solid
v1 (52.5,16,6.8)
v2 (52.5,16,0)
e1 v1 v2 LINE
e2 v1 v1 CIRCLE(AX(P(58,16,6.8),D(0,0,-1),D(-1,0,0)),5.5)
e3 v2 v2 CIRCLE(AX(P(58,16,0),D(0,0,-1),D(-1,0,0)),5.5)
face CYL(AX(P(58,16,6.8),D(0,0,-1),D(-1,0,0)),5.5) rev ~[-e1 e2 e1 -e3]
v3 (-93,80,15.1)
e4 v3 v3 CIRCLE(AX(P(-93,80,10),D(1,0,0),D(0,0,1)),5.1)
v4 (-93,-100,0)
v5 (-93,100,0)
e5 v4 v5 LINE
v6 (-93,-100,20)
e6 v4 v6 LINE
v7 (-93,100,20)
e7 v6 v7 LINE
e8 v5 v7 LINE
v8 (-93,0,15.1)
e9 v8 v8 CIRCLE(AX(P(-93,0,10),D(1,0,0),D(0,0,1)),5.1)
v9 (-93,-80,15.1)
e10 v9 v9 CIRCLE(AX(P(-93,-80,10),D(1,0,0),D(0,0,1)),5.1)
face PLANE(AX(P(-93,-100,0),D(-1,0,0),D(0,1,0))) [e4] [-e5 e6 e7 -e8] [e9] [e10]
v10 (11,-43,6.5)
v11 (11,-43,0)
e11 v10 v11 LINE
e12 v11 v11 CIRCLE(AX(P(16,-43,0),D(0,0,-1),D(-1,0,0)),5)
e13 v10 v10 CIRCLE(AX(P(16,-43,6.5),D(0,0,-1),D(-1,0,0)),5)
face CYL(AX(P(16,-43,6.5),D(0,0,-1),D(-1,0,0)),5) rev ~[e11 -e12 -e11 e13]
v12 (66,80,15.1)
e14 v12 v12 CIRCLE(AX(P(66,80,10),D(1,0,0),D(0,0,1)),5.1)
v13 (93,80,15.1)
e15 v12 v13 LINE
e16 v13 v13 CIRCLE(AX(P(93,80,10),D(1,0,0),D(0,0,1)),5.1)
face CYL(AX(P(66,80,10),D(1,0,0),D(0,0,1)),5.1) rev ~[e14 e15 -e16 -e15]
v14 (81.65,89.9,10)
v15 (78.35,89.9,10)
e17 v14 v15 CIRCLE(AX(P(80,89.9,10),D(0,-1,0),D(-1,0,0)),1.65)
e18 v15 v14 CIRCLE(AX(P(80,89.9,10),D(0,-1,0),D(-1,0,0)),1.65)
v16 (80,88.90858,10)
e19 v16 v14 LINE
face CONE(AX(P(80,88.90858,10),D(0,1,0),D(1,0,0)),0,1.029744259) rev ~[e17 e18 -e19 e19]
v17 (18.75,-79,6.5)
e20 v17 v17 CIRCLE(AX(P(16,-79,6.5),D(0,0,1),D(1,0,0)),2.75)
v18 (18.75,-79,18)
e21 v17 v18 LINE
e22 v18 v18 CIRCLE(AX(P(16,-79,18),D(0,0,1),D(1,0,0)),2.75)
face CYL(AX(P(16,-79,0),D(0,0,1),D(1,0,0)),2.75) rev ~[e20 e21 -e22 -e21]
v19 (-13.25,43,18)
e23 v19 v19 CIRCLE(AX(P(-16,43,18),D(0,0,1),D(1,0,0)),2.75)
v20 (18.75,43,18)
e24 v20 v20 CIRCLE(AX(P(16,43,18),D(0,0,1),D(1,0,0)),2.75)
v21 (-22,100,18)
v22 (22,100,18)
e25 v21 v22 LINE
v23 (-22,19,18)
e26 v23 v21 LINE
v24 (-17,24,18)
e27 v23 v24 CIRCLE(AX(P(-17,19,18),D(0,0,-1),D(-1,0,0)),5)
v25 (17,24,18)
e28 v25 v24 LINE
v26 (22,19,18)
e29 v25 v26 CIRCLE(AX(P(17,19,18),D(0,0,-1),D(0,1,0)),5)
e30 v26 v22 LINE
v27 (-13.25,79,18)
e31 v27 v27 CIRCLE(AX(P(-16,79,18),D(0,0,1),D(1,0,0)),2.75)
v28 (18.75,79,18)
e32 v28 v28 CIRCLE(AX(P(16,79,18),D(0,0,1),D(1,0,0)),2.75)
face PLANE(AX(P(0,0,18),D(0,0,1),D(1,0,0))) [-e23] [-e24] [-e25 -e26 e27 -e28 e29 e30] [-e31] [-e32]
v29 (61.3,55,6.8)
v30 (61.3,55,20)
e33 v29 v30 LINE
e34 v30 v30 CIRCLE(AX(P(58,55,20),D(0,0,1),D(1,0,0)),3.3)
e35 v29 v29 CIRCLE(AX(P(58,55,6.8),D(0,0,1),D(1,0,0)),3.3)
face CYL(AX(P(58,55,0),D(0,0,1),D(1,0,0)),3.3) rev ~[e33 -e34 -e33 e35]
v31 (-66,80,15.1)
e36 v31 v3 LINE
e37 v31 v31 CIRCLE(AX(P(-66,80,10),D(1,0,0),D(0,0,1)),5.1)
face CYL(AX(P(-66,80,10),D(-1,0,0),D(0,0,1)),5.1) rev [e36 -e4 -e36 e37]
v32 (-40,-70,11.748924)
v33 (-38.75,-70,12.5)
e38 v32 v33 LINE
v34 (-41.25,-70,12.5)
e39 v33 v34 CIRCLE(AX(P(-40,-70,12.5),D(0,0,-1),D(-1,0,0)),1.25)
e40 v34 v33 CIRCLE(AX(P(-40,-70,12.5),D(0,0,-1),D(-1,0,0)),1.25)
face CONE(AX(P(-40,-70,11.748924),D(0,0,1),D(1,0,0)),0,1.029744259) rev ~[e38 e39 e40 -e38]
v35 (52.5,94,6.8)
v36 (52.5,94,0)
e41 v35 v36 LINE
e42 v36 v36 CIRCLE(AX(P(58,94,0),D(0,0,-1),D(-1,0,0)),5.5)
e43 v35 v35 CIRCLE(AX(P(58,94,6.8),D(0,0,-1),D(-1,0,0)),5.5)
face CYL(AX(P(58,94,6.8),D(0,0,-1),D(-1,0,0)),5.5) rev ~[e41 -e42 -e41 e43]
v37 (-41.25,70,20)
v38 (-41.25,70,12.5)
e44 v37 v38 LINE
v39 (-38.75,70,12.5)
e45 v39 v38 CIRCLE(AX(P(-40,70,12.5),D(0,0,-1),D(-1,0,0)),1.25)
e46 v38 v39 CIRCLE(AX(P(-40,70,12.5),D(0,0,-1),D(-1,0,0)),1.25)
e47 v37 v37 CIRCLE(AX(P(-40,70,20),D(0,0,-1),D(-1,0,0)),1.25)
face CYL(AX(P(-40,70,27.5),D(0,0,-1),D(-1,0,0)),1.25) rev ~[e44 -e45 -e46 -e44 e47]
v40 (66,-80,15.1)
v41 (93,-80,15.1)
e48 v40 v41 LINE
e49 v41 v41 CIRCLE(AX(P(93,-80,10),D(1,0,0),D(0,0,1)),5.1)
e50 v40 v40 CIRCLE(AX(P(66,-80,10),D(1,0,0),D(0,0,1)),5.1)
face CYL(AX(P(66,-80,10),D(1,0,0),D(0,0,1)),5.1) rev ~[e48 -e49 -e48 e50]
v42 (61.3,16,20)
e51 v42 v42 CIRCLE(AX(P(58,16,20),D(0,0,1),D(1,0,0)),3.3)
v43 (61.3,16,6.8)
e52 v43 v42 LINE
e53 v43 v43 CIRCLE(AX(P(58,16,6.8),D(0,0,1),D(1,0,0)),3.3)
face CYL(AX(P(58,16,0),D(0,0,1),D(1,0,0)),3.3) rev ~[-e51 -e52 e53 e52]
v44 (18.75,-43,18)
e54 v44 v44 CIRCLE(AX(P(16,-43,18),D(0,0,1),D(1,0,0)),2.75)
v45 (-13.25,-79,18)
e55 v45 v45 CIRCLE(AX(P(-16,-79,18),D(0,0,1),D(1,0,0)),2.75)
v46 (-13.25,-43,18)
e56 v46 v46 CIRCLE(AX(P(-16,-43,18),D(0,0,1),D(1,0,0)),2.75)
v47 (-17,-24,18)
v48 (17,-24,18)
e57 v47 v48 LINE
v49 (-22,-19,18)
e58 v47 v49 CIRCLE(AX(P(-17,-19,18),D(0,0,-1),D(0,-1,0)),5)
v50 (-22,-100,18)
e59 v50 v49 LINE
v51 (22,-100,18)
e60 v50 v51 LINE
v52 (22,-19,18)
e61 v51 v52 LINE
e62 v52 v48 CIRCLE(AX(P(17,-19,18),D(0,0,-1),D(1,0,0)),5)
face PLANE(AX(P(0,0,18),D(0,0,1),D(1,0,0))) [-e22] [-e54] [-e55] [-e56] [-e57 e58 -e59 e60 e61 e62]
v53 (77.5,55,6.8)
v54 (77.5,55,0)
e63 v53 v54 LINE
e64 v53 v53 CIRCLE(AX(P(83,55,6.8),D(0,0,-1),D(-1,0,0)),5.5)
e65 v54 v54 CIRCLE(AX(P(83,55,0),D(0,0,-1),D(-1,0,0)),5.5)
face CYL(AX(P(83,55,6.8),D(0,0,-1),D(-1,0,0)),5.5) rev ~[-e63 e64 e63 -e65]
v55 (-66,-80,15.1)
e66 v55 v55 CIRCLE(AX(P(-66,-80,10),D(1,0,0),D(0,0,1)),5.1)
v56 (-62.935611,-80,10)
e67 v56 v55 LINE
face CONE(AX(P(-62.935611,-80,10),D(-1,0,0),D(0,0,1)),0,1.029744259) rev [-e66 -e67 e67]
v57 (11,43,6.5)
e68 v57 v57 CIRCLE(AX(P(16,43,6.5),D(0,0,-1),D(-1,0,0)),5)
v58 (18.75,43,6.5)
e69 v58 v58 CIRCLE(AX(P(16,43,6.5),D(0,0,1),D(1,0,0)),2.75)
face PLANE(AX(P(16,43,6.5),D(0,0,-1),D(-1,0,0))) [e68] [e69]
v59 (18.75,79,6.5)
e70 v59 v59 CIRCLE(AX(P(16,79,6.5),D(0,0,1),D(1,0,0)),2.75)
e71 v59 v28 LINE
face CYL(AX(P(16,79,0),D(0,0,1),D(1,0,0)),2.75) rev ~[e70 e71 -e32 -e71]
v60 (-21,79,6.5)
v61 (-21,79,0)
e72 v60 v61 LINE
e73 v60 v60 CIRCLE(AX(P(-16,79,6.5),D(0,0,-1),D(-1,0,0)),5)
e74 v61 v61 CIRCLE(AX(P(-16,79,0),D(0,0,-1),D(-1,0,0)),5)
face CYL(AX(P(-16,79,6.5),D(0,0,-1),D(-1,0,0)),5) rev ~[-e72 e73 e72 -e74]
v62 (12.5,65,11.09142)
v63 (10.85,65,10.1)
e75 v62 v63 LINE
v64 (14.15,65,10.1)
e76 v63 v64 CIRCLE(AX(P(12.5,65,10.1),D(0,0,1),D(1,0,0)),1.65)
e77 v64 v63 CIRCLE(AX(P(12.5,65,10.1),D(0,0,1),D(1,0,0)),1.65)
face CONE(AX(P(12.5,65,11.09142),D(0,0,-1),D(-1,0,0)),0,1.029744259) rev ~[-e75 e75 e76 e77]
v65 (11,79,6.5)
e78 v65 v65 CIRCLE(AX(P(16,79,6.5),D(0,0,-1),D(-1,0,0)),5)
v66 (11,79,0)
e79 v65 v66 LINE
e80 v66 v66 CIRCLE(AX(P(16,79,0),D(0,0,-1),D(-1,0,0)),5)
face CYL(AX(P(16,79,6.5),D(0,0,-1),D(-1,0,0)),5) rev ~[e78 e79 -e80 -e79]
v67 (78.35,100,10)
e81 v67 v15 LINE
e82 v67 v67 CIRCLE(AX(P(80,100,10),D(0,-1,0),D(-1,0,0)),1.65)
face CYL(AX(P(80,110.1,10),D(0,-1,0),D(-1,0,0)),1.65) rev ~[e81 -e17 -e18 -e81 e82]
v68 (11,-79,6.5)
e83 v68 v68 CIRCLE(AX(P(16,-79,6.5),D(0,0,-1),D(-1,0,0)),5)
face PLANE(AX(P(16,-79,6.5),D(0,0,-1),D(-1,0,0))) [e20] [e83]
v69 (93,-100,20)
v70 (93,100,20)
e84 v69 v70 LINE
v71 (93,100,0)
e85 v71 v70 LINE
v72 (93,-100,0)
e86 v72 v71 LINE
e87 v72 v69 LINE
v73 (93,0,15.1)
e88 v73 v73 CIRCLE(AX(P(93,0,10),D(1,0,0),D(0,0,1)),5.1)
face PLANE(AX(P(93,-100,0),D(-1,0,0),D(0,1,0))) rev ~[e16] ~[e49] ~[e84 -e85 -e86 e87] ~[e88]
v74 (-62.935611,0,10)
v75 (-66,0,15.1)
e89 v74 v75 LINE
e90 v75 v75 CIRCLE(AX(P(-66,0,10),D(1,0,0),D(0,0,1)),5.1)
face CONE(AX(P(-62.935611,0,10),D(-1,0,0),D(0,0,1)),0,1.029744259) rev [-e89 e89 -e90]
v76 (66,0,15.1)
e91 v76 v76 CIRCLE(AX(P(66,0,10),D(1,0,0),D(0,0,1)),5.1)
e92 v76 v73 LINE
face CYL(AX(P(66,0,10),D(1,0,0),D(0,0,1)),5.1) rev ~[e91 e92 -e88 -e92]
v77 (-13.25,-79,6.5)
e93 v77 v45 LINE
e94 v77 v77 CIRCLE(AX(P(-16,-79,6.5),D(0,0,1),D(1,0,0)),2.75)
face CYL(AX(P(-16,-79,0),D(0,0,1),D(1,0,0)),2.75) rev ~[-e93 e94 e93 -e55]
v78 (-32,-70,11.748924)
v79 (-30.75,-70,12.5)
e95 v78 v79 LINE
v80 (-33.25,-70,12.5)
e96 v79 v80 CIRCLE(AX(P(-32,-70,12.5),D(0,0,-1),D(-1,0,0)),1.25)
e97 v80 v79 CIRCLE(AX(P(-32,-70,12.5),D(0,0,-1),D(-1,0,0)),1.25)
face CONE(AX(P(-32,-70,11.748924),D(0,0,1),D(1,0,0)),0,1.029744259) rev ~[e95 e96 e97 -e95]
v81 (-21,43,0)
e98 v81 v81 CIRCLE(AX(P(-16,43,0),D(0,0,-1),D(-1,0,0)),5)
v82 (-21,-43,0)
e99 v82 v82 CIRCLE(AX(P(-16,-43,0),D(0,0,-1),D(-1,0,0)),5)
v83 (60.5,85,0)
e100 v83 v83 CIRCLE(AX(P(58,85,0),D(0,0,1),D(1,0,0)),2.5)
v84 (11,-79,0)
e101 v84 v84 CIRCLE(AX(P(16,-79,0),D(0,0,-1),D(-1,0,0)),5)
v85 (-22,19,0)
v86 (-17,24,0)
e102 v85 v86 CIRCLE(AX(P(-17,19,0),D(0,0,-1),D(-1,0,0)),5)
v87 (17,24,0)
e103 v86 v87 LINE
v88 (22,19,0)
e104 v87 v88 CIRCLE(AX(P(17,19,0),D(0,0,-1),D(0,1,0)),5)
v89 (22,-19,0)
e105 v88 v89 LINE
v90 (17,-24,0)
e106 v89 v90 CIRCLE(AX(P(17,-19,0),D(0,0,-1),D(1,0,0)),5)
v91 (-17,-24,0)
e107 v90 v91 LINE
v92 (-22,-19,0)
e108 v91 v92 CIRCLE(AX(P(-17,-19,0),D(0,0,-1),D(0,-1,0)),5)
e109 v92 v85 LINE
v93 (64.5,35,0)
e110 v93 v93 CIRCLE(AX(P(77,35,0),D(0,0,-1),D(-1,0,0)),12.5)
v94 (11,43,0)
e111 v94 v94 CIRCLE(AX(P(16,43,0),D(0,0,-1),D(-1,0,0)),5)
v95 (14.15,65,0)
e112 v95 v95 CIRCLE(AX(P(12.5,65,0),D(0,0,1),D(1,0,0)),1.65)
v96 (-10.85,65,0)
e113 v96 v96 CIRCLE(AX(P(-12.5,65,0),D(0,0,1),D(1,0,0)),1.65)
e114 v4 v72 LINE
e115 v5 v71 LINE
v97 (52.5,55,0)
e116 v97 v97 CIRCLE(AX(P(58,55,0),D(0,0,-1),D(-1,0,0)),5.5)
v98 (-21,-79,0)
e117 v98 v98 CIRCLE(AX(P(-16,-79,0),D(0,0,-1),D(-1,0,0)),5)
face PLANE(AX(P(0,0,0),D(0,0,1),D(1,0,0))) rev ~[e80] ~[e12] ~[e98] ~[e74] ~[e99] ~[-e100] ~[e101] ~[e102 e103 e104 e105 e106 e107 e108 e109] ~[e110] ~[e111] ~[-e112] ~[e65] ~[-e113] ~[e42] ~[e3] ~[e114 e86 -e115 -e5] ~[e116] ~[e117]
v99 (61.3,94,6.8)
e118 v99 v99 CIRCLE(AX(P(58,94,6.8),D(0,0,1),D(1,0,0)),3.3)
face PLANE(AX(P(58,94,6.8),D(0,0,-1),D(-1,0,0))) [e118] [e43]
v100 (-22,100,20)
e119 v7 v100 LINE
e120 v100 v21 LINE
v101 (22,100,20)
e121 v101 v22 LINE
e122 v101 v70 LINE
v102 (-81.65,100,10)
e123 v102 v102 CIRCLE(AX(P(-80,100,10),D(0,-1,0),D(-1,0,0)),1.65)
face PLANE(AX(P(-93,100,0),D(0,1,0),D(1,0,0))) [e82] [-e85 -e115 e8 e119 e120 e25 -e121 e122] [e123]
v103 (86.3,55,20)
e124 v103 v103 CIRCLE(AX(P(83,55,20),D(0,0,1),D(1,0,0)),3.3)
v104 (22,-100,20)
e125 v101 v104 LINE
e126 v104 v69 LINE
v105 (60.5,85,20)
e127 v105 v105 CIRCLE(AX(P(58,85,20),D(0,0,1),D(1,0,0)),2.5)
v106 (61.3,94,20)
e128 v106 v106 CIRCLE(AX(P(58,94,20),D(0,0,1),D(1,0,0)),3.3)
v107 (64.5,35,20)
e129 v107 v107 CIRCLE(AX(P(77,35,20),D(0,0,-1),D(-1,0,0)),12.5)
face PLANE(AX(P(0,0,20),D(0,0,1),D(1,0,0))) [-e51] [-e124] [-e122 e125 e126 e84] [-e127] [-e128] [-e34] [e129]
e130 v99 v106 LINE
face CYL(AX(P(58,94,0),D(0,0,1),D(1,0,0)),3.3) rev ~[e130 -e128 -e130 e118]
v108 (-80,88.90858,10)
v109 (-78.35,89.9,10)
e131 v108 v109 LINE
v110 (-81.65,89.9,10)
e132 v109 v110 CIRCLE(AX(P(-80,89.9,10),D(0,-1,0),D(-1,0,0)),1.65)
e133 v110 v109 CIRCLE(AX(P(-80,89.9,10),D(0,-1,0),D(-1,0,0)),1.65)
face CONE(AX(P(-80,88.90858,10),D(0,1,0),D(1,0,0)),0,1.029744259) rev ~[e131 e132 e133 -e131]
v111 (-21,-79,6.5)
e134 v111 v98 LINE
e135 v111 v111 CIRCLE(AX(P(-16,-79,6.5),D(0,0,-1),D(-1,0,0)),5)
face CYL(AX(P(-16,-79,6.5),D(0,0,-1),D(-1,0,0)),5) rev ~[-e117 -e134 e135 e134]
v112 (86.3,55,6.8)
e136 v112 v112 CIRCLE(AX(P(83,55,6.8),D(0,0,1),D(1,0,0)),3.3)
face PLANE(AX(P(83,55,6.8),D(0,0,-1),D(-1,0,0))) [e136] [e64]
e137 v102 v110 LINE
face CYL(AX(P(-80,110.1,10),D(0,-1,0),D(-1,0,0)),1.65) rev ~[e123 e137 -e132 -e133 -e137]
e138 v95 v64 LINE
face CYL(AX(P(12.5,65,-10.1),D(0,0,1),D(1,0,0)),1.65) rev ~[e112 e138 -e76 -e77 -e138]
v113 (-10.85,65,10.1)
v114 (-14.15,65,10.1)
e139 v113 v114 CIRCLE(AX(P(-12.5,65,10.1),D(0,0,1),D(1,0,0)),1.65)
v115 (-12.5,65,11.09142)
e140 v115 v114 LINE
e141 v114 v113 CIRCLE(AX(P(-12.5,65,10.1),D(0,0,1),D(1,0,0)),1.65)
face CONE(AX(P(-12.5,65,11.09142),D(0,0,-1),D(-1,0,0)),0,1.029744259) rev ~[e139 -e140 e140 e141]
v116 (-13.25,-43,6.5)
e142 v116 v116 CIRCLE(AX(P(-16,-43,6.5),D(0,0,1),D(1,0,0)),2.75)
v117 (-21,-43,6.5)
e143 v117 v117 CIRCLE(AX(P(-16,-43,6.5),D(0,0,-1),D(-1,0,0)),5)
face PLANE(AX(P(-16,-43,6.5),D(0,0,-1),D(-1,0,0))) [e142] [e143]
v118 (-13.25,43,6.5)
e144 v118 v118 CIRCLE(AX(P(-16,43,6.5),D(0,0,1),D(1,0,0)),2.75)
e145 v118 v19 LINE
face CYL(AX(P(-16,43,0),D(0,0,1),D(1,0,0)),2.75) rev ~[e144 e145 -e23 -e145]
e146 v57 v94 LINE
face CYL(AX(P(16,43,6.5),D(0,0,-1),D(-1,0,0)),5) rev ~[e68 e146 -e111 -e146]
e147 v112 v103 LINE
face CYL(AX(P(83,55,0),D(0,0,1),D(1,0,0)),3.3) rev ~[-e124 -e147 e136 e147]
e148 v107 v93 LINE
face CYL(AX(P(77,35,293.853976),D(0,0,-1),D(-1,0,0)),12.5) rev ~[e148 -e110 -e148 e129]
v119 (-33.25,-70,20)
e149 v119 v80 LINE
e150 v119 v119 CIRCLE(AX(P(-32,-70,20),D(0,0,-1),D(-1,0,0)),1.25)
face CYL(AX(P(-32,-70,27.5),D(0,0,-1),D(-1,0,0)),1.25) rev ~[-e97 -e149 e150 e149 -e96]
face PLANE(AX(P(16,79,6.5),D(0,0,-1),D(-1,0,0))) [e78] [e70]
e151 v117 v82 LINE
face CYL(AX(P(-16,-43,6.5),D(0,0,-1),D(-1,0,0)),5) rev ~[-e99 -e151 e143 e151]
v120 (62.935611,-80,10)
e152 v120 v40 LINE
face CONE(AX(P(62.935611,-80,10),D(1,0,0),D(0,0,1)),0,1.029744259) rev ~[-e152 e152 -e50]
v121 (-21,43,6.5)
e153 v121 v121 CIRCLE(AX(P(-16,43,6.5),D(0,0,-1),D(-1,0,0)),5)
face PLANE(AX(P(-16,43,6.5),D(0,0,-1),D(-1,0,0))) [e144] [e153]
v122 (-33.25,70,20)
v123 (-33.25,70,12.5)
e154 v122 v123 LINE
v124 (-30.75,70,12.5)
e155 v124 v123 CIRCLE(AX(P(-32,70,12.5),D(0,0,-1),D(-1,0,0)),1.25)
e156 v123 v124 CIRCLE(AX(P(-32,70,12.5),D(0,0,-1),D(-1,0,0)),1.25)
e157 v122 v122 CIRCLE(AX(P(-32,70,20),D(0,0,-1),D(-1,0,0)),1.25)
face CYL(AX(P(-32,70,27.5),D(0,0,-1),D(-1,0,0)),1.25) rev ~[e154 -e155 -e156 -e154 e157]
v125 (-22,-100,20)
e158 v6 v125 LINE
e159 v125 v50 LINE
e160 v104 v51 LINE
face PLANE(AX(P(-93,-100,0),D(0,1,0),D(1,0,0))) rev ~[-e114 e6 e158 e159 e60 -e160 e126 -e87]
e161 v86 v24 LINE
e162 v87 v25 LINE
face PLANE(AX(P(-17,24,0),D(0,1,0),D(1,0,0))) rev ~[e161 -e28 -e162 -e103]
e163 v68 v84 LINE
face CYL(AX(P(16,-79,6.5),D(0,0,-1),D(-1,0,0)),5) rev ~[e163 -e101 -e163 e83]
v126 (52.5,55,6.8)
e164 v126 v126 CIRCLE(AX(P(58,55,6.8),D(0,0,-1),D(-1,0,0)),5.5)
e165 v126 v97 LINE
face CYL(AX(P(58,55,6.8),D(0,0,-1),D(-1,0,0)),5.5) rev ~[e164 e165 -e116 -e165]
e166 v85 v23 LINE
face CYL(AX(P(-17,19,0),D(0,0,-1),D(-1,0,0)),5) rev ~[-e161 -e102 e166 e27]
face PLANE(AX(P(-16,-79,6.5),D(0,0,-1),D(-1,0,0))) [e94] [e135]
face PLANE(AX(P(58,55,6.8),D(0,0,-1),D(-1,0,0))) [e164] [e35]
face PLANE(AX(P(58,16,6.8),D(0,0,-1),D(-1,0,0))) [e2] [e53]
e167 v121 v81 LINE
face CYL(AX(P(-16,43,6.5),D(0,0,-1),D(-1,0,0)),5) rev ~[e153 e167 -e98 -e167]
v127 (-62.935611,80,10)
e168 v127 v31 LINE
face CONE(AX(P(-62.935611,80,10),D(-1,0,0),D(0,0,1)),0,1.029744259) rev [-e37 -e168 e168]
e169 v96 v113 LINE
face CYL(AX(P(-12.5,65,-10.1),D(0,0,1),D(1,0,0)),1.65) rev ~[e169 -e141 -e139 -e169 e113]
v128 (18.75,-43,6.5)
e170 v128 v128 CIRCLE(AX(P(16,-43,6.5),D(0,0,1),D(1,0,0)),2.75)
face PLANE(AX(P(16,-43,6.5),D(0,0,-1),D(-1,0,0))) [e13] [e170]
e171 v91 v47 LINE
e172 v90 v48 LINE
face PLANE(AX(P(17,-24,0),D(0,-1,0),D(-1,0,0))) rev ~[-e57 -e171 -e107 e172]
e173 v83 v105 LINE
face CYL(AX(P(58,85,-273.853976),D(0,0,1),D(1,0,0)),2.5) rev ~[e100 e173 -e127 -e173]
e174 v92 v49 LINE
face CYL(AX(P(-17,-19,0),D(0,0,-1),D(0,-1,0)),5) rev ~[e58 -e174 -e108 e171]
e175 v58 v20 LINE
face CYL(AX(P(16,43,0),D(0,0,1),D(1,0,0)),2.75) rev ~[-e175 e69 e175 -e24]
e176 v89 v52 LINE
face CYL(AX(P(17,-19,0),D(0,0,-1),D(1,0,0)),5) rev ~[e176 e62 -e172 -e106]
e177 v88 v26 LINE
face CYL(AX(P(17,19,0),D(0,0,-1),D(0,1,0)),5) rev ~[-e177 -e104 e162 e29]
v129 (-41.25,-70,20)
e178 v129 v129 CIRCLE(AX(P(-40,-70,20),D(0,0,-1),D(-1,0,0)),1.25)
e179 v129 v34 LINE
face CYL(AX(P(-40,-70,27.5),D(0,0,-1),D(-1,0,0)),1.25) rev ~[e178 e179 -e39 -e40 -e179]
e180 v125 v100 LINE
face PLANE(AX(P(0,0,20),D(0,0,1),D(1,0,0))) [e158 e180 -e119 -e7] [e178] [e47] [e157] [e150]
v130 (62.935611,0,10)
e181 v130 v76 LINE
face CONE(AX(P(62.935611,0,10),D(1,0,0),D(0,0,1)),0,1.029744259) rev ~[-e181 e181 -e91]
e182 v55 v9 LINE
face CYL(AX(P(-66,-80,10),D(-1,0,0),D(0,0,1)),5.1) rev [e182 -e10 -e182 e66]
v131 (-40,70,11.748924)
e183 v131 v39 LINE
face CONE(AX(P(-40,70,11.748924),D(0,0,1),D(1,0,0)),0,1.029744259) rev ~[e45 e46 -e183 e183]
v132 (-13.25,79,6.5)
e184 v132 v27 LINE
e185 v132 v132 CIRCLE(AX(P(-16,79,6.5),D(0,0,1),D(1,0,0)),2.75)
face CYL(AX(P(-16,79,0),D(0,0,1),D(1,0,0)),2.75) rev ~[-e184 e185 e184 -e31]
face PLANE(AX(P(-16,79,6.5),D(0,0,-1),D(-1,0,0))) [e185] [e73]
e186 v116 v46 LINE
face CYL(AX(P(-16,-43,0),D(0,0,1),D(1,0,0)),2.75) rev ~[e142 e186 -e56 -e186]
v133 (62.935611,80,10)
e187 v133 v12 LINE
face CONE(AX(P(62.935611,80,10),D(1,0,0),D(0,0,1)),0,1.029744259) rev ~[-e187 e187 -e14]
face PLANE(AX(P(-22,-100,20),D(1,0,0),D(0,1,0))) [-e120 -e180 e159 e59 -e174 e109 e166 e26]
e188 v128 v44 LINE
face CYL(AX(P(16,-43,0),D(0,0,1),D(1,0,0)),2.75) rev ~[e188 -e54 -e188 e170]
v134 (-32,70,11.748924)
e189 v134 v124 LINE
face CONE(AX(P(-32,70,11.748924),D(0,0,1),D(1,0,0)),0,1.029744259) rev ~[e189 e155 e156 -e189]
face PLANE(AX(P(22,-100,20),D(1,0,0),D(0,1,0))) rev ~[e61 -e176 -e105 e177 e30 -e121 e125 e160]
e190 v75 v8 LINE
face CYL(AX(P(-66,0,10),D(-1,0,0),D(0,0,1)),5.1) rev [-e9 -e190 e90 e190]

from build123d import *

# Parameters (mm, degrees)
SKETCH_1_W                   = 186
SKETCH_1_H                   = 200
EXTRUDE_1_DEPTH              = 20
HOLE_WIZARD_M12_1_AT_2_COUNT = 2
HOLE_WIZARD_M12_1_AT_2_PITCH = 80
HOLE_WIZARD_M12_1_AT_3_COUNT = 2
HOLE_WIZARD_M12_1_AT_3_PITCH = 160
SKETCH_4_W                   = 44
SKETCH_4_H                   = 200
CUT_EXTRUDE_1_DEPTH          = 2
HOLE_WIZARD_2_D              = 5.5
HOLE_WIZARD_2_CBORE_D        = 10
HOLE_WIZARD_2_CBORE_DEPTH    = 6.5
HOLE_WIZARD_2_2_D            = 6.6
HOLE_WIZARD_2_2_CBORE_D      = 11
HOLE_WIZARD_2_2_CBORE_DEPTH  = 6.8
HOLE_WIZARD_M4_1_D           = 3.3
HOLE_WIZARD_M4_1_DEPTH       = 10.1
HOLE_WIZARD_M4_1_TIP         = 0.991420021
CUT_EXTRUDE_2_DEPTH          = 139.018114753
HOLE_WIZARD_M4_2_D           = 3.3
HOLE_WIZARD_M4_2_DEPTH       = 10.1
HOLE_WIZARD_M4_2_TIP         = 0.991420021
HOLE_WIZARD_M3_1_D           = 2.5
HOLE_WIZARD_M3_1_DEPTH       = 7.5
HOLE_WIZARD_M3_1_TIP         = 0.751075774
HOLE_WIZARD_1_D              = 25
HOLE_WIZARD_M6_1_D           = 5


with BuildPart() as part:
    # 草图1 → 凸台-拉伸1 (new body)
    with BuildSketch(Plane.XY):
        Rectangle(SKETCH_1_W, SKETCH_1_H)
    extrude(amount=EXTRUDE_1_DEPTH)

    # 草图2 → M12 螺纹孔1 (revolve, cut)
    with BuildSketch(Plane(origin=(-93, 80, 10), x_dir=(0, 0, 1), z_dir=(0, 1, 0))):
        Polygon((0, 0), (0, 30.064389157), (5.1, 27), (5.1, 0), align=None)
    hole_wizard_m12_1 = revolve(axis=Axis((-99.35, 80, 10), (1, 0, 0)), mode=Mode.SUBTRACT)

    # M12 螺纹孔1 at 2: M12 螺纹孔1 ×2
    with Locations(*[(0, -i * HOLE_WIZARD_M12_1_AT_2_PITCH, 0) for i in range(1, HOLE_WIZARD_M12_1_AT_2_COUNT)]):
        add(hole_wizard_m12_1, mode=Mode.SUBTRACT)

    # M12 螺纹孔1 at 3: M12 螺纹孔1 ×2
    with Locations(*[(0, -i * HOLE_WIZARD_M12_1_AT_3_PITCH, 0) for i in range(1, HOLE_WIZARD_M12_1_AT_3_COUNT)]):
        add(hole_wizard_m12_1, mode=Mode.SUBTRACT)

    # 镜向1: M12 螺纹孔1 across plane
    add(hole_wizard_m12_1.mirror(Plane(origin=(0, 0, 0), x_dir=(0, 0, 1), z_dir=(1, 0, 0))), mode=Mode.SUBTRACT)

    # 镜向1 copy 1 sketch → 镜向1 copy 1 (revolve, cut)
    with BuildSketch(Plane(origin=(93, 0, 10), x_dir=(0, 0, 1), z_dir=(0, 1, 0))):
        Polygon((0, 0), (0, -30.064389157), (5.1, -27), (5.1, 0), align=None)
    revolve(axis=Axis((99.35, 0, 10), (1, 0, 0)), mode=Mode.SUBTRACT)

    # 镜向1 copy 2 sketch → 镜向1 copy 2 (revolve, cut)
    with BuildSketch(Plane(origin=(93, -80, 10), x_dir=(0, 0, 1), z_dir=(0, 1, 0))):
        Polygon((0, 0), (0, -30.064389157), (5.1, -27), (5.1, 0), align=None)
    revolve(axis=Axis((99.35, -80, 10), (1, 0, 0)), mode=Mode.SUBTRACT)

    # 草图4 → 切除-拉伸1 (cut)
    with BuildSketch(Plane.XY.offset(20)):
        Rectangle(SKETCH_4_W, SKETCH_4_H)
    extrude(amount=-CUT_EXTRUDE_1_DEPTH, mode=Mode.SUBTRACT)

    # Hole Wizard 2 (through all)
    with Locations(Plane(origin=(0, 0, 0), x_dir=(-1, 0, 0), z_dir=(0, 0, -1))):
        with Locations((16, 79), (16, 43), (-16, 43), (-16, 79), (-16, -79), (-16, -43), (16, -43), (16, -79)):
            CounterBoreHole(HOLE_WIZARD_2_D / 2, HOLE_WIZARD_2_CBORE_D / 2, HOLE_WIZARD_2_CBORE_DEPTH)

    # Hole Wizard 2 2 (through all)
    with Locations(Plane(origin=(0, 0, 0), x_dir=(-1, 0, 0), z_dir=(0, 0, -1))):
        with Locations((-58, 94), (-58, 55), (-58, 16), (-83, 55)):
            CounterBoreHole(HOLE_WIZARD_2_2_D / 2, HOLE_WIZARD_2_2_CBORE_D / 2, HOLE_WIZARD_2_2_CBORE_DEPTH)

    # M4 螺纹孔1
    with Locations(Plane(origin=(0, 100, 0), x_dir=(1, 0, 0), z_dir=(0, 1, 0))):
        with Locations((-80, -10), (80, -10)):
            Hole(HOLE_WIZARD_M4_1_D / 2, depth=HOLE_WIZARD_M4_1_DEPTH)
            with Locations((0, 0, -(HOLE_WIZARD_M4_1_DEPTH + HOLE_WIZARD_M4_1_TIP / 2))):  # 118° drill point
                Cone(0, HOLE_WIZARD_M4_1_D / 2, HOLE_WIZARD_M4_1_TIP, mode=Mode.SUBTRACT)

    # 草图11 → 切除-拉伸2 (cut, through all)
    with BuildSketch(Plane(origin=(0, 0, 0), x_dir=(-1, 0, 0), z_dir=(0, 0, -1))):
        with BuildLine():
            Line((-17, -24), (17, -24))
            ThreePointArc((17, -24), (20.535533906, -22.535533906), (22, -19))
            Line((22, -19), (22, 19))
            ThreePointArc((22, 19), (20.535533906, 22.535533906), (17, 24))
            Line((17, 24), (-17, 24))
            ThreePointArc((-17, 24), (-20.535533906, 22.535533906), (-22, 19))
            Line((-22, 19), (-22, -19))
            ThreePointArc((-22, -19), (-20.535533906, -22.535533906), (-17, -24))
        make_face()
    extrude(amount=-CUT_EXTRUDE_2_DEPTH, mode=Mode.SUBTRACT)

    # M4 螺纹孔2
    with Locations(Plane(origin=(0, 0, 0), x_dir=(-1, 0, 0), z_dir=(0, 0, -1))):
        with Locations((-12.5, 65), (12.5, 65)):
            Hole(HOLE_WIZARD_M4_2_D / 2, depth=HOLE_WIZARD_M4_2_DEPTH)
            with Locations((0, 0, -(HOLE_WIZARD_M4_2_DEPTH + HOLE_WIZARD_M4_2_TIP / 2))):  # 118° drill point
                Cone(0, HOLE_WIZARD_M4_2_D / 2, HOLE_WIZARD_M4_2_TIP, mode=Mode.SUBTRACT)

    # M3 螺纹孔1
    with Locations(Plane.XY.offset(20)):
        with Locations((-32, 70), (-32, -70), (-40, -70), (-40, 70)):
            Hole(HOLE_WIZARD_M3_1_D / 2, depth=HOLE_WIZARD_M3_1_DEPTH)
            with Locations((0, 0, -(HOLE_WIZARD_M3_1_DEPTH + HOLE_WIZARD_M3_1_TIP / 2))):  # 118° drill point
                Cone(0, HOLE_WIZARD_M3_1_D / 2, HOLE_WIZARD_M3_1_TIP, mode=Mode.SUBTRACT)

    # 孔1 (through all)
    with Locations(Plane.XY.offset(20)):
        with Locations((77, 35)):
            Hole(HOLE_WIZARD_1_D / 2)

    # M6 螺纹孔1 (through all)
    with Locations(Plane(origin=(0, 0, 0), x_dir=(-1, 0, 0), z_dir=(0, 0, -1))):
        with Locations((-58, 85)):
            Hole(HOLE_WIZARD_M6_1_D / 2)


solid = part.part
